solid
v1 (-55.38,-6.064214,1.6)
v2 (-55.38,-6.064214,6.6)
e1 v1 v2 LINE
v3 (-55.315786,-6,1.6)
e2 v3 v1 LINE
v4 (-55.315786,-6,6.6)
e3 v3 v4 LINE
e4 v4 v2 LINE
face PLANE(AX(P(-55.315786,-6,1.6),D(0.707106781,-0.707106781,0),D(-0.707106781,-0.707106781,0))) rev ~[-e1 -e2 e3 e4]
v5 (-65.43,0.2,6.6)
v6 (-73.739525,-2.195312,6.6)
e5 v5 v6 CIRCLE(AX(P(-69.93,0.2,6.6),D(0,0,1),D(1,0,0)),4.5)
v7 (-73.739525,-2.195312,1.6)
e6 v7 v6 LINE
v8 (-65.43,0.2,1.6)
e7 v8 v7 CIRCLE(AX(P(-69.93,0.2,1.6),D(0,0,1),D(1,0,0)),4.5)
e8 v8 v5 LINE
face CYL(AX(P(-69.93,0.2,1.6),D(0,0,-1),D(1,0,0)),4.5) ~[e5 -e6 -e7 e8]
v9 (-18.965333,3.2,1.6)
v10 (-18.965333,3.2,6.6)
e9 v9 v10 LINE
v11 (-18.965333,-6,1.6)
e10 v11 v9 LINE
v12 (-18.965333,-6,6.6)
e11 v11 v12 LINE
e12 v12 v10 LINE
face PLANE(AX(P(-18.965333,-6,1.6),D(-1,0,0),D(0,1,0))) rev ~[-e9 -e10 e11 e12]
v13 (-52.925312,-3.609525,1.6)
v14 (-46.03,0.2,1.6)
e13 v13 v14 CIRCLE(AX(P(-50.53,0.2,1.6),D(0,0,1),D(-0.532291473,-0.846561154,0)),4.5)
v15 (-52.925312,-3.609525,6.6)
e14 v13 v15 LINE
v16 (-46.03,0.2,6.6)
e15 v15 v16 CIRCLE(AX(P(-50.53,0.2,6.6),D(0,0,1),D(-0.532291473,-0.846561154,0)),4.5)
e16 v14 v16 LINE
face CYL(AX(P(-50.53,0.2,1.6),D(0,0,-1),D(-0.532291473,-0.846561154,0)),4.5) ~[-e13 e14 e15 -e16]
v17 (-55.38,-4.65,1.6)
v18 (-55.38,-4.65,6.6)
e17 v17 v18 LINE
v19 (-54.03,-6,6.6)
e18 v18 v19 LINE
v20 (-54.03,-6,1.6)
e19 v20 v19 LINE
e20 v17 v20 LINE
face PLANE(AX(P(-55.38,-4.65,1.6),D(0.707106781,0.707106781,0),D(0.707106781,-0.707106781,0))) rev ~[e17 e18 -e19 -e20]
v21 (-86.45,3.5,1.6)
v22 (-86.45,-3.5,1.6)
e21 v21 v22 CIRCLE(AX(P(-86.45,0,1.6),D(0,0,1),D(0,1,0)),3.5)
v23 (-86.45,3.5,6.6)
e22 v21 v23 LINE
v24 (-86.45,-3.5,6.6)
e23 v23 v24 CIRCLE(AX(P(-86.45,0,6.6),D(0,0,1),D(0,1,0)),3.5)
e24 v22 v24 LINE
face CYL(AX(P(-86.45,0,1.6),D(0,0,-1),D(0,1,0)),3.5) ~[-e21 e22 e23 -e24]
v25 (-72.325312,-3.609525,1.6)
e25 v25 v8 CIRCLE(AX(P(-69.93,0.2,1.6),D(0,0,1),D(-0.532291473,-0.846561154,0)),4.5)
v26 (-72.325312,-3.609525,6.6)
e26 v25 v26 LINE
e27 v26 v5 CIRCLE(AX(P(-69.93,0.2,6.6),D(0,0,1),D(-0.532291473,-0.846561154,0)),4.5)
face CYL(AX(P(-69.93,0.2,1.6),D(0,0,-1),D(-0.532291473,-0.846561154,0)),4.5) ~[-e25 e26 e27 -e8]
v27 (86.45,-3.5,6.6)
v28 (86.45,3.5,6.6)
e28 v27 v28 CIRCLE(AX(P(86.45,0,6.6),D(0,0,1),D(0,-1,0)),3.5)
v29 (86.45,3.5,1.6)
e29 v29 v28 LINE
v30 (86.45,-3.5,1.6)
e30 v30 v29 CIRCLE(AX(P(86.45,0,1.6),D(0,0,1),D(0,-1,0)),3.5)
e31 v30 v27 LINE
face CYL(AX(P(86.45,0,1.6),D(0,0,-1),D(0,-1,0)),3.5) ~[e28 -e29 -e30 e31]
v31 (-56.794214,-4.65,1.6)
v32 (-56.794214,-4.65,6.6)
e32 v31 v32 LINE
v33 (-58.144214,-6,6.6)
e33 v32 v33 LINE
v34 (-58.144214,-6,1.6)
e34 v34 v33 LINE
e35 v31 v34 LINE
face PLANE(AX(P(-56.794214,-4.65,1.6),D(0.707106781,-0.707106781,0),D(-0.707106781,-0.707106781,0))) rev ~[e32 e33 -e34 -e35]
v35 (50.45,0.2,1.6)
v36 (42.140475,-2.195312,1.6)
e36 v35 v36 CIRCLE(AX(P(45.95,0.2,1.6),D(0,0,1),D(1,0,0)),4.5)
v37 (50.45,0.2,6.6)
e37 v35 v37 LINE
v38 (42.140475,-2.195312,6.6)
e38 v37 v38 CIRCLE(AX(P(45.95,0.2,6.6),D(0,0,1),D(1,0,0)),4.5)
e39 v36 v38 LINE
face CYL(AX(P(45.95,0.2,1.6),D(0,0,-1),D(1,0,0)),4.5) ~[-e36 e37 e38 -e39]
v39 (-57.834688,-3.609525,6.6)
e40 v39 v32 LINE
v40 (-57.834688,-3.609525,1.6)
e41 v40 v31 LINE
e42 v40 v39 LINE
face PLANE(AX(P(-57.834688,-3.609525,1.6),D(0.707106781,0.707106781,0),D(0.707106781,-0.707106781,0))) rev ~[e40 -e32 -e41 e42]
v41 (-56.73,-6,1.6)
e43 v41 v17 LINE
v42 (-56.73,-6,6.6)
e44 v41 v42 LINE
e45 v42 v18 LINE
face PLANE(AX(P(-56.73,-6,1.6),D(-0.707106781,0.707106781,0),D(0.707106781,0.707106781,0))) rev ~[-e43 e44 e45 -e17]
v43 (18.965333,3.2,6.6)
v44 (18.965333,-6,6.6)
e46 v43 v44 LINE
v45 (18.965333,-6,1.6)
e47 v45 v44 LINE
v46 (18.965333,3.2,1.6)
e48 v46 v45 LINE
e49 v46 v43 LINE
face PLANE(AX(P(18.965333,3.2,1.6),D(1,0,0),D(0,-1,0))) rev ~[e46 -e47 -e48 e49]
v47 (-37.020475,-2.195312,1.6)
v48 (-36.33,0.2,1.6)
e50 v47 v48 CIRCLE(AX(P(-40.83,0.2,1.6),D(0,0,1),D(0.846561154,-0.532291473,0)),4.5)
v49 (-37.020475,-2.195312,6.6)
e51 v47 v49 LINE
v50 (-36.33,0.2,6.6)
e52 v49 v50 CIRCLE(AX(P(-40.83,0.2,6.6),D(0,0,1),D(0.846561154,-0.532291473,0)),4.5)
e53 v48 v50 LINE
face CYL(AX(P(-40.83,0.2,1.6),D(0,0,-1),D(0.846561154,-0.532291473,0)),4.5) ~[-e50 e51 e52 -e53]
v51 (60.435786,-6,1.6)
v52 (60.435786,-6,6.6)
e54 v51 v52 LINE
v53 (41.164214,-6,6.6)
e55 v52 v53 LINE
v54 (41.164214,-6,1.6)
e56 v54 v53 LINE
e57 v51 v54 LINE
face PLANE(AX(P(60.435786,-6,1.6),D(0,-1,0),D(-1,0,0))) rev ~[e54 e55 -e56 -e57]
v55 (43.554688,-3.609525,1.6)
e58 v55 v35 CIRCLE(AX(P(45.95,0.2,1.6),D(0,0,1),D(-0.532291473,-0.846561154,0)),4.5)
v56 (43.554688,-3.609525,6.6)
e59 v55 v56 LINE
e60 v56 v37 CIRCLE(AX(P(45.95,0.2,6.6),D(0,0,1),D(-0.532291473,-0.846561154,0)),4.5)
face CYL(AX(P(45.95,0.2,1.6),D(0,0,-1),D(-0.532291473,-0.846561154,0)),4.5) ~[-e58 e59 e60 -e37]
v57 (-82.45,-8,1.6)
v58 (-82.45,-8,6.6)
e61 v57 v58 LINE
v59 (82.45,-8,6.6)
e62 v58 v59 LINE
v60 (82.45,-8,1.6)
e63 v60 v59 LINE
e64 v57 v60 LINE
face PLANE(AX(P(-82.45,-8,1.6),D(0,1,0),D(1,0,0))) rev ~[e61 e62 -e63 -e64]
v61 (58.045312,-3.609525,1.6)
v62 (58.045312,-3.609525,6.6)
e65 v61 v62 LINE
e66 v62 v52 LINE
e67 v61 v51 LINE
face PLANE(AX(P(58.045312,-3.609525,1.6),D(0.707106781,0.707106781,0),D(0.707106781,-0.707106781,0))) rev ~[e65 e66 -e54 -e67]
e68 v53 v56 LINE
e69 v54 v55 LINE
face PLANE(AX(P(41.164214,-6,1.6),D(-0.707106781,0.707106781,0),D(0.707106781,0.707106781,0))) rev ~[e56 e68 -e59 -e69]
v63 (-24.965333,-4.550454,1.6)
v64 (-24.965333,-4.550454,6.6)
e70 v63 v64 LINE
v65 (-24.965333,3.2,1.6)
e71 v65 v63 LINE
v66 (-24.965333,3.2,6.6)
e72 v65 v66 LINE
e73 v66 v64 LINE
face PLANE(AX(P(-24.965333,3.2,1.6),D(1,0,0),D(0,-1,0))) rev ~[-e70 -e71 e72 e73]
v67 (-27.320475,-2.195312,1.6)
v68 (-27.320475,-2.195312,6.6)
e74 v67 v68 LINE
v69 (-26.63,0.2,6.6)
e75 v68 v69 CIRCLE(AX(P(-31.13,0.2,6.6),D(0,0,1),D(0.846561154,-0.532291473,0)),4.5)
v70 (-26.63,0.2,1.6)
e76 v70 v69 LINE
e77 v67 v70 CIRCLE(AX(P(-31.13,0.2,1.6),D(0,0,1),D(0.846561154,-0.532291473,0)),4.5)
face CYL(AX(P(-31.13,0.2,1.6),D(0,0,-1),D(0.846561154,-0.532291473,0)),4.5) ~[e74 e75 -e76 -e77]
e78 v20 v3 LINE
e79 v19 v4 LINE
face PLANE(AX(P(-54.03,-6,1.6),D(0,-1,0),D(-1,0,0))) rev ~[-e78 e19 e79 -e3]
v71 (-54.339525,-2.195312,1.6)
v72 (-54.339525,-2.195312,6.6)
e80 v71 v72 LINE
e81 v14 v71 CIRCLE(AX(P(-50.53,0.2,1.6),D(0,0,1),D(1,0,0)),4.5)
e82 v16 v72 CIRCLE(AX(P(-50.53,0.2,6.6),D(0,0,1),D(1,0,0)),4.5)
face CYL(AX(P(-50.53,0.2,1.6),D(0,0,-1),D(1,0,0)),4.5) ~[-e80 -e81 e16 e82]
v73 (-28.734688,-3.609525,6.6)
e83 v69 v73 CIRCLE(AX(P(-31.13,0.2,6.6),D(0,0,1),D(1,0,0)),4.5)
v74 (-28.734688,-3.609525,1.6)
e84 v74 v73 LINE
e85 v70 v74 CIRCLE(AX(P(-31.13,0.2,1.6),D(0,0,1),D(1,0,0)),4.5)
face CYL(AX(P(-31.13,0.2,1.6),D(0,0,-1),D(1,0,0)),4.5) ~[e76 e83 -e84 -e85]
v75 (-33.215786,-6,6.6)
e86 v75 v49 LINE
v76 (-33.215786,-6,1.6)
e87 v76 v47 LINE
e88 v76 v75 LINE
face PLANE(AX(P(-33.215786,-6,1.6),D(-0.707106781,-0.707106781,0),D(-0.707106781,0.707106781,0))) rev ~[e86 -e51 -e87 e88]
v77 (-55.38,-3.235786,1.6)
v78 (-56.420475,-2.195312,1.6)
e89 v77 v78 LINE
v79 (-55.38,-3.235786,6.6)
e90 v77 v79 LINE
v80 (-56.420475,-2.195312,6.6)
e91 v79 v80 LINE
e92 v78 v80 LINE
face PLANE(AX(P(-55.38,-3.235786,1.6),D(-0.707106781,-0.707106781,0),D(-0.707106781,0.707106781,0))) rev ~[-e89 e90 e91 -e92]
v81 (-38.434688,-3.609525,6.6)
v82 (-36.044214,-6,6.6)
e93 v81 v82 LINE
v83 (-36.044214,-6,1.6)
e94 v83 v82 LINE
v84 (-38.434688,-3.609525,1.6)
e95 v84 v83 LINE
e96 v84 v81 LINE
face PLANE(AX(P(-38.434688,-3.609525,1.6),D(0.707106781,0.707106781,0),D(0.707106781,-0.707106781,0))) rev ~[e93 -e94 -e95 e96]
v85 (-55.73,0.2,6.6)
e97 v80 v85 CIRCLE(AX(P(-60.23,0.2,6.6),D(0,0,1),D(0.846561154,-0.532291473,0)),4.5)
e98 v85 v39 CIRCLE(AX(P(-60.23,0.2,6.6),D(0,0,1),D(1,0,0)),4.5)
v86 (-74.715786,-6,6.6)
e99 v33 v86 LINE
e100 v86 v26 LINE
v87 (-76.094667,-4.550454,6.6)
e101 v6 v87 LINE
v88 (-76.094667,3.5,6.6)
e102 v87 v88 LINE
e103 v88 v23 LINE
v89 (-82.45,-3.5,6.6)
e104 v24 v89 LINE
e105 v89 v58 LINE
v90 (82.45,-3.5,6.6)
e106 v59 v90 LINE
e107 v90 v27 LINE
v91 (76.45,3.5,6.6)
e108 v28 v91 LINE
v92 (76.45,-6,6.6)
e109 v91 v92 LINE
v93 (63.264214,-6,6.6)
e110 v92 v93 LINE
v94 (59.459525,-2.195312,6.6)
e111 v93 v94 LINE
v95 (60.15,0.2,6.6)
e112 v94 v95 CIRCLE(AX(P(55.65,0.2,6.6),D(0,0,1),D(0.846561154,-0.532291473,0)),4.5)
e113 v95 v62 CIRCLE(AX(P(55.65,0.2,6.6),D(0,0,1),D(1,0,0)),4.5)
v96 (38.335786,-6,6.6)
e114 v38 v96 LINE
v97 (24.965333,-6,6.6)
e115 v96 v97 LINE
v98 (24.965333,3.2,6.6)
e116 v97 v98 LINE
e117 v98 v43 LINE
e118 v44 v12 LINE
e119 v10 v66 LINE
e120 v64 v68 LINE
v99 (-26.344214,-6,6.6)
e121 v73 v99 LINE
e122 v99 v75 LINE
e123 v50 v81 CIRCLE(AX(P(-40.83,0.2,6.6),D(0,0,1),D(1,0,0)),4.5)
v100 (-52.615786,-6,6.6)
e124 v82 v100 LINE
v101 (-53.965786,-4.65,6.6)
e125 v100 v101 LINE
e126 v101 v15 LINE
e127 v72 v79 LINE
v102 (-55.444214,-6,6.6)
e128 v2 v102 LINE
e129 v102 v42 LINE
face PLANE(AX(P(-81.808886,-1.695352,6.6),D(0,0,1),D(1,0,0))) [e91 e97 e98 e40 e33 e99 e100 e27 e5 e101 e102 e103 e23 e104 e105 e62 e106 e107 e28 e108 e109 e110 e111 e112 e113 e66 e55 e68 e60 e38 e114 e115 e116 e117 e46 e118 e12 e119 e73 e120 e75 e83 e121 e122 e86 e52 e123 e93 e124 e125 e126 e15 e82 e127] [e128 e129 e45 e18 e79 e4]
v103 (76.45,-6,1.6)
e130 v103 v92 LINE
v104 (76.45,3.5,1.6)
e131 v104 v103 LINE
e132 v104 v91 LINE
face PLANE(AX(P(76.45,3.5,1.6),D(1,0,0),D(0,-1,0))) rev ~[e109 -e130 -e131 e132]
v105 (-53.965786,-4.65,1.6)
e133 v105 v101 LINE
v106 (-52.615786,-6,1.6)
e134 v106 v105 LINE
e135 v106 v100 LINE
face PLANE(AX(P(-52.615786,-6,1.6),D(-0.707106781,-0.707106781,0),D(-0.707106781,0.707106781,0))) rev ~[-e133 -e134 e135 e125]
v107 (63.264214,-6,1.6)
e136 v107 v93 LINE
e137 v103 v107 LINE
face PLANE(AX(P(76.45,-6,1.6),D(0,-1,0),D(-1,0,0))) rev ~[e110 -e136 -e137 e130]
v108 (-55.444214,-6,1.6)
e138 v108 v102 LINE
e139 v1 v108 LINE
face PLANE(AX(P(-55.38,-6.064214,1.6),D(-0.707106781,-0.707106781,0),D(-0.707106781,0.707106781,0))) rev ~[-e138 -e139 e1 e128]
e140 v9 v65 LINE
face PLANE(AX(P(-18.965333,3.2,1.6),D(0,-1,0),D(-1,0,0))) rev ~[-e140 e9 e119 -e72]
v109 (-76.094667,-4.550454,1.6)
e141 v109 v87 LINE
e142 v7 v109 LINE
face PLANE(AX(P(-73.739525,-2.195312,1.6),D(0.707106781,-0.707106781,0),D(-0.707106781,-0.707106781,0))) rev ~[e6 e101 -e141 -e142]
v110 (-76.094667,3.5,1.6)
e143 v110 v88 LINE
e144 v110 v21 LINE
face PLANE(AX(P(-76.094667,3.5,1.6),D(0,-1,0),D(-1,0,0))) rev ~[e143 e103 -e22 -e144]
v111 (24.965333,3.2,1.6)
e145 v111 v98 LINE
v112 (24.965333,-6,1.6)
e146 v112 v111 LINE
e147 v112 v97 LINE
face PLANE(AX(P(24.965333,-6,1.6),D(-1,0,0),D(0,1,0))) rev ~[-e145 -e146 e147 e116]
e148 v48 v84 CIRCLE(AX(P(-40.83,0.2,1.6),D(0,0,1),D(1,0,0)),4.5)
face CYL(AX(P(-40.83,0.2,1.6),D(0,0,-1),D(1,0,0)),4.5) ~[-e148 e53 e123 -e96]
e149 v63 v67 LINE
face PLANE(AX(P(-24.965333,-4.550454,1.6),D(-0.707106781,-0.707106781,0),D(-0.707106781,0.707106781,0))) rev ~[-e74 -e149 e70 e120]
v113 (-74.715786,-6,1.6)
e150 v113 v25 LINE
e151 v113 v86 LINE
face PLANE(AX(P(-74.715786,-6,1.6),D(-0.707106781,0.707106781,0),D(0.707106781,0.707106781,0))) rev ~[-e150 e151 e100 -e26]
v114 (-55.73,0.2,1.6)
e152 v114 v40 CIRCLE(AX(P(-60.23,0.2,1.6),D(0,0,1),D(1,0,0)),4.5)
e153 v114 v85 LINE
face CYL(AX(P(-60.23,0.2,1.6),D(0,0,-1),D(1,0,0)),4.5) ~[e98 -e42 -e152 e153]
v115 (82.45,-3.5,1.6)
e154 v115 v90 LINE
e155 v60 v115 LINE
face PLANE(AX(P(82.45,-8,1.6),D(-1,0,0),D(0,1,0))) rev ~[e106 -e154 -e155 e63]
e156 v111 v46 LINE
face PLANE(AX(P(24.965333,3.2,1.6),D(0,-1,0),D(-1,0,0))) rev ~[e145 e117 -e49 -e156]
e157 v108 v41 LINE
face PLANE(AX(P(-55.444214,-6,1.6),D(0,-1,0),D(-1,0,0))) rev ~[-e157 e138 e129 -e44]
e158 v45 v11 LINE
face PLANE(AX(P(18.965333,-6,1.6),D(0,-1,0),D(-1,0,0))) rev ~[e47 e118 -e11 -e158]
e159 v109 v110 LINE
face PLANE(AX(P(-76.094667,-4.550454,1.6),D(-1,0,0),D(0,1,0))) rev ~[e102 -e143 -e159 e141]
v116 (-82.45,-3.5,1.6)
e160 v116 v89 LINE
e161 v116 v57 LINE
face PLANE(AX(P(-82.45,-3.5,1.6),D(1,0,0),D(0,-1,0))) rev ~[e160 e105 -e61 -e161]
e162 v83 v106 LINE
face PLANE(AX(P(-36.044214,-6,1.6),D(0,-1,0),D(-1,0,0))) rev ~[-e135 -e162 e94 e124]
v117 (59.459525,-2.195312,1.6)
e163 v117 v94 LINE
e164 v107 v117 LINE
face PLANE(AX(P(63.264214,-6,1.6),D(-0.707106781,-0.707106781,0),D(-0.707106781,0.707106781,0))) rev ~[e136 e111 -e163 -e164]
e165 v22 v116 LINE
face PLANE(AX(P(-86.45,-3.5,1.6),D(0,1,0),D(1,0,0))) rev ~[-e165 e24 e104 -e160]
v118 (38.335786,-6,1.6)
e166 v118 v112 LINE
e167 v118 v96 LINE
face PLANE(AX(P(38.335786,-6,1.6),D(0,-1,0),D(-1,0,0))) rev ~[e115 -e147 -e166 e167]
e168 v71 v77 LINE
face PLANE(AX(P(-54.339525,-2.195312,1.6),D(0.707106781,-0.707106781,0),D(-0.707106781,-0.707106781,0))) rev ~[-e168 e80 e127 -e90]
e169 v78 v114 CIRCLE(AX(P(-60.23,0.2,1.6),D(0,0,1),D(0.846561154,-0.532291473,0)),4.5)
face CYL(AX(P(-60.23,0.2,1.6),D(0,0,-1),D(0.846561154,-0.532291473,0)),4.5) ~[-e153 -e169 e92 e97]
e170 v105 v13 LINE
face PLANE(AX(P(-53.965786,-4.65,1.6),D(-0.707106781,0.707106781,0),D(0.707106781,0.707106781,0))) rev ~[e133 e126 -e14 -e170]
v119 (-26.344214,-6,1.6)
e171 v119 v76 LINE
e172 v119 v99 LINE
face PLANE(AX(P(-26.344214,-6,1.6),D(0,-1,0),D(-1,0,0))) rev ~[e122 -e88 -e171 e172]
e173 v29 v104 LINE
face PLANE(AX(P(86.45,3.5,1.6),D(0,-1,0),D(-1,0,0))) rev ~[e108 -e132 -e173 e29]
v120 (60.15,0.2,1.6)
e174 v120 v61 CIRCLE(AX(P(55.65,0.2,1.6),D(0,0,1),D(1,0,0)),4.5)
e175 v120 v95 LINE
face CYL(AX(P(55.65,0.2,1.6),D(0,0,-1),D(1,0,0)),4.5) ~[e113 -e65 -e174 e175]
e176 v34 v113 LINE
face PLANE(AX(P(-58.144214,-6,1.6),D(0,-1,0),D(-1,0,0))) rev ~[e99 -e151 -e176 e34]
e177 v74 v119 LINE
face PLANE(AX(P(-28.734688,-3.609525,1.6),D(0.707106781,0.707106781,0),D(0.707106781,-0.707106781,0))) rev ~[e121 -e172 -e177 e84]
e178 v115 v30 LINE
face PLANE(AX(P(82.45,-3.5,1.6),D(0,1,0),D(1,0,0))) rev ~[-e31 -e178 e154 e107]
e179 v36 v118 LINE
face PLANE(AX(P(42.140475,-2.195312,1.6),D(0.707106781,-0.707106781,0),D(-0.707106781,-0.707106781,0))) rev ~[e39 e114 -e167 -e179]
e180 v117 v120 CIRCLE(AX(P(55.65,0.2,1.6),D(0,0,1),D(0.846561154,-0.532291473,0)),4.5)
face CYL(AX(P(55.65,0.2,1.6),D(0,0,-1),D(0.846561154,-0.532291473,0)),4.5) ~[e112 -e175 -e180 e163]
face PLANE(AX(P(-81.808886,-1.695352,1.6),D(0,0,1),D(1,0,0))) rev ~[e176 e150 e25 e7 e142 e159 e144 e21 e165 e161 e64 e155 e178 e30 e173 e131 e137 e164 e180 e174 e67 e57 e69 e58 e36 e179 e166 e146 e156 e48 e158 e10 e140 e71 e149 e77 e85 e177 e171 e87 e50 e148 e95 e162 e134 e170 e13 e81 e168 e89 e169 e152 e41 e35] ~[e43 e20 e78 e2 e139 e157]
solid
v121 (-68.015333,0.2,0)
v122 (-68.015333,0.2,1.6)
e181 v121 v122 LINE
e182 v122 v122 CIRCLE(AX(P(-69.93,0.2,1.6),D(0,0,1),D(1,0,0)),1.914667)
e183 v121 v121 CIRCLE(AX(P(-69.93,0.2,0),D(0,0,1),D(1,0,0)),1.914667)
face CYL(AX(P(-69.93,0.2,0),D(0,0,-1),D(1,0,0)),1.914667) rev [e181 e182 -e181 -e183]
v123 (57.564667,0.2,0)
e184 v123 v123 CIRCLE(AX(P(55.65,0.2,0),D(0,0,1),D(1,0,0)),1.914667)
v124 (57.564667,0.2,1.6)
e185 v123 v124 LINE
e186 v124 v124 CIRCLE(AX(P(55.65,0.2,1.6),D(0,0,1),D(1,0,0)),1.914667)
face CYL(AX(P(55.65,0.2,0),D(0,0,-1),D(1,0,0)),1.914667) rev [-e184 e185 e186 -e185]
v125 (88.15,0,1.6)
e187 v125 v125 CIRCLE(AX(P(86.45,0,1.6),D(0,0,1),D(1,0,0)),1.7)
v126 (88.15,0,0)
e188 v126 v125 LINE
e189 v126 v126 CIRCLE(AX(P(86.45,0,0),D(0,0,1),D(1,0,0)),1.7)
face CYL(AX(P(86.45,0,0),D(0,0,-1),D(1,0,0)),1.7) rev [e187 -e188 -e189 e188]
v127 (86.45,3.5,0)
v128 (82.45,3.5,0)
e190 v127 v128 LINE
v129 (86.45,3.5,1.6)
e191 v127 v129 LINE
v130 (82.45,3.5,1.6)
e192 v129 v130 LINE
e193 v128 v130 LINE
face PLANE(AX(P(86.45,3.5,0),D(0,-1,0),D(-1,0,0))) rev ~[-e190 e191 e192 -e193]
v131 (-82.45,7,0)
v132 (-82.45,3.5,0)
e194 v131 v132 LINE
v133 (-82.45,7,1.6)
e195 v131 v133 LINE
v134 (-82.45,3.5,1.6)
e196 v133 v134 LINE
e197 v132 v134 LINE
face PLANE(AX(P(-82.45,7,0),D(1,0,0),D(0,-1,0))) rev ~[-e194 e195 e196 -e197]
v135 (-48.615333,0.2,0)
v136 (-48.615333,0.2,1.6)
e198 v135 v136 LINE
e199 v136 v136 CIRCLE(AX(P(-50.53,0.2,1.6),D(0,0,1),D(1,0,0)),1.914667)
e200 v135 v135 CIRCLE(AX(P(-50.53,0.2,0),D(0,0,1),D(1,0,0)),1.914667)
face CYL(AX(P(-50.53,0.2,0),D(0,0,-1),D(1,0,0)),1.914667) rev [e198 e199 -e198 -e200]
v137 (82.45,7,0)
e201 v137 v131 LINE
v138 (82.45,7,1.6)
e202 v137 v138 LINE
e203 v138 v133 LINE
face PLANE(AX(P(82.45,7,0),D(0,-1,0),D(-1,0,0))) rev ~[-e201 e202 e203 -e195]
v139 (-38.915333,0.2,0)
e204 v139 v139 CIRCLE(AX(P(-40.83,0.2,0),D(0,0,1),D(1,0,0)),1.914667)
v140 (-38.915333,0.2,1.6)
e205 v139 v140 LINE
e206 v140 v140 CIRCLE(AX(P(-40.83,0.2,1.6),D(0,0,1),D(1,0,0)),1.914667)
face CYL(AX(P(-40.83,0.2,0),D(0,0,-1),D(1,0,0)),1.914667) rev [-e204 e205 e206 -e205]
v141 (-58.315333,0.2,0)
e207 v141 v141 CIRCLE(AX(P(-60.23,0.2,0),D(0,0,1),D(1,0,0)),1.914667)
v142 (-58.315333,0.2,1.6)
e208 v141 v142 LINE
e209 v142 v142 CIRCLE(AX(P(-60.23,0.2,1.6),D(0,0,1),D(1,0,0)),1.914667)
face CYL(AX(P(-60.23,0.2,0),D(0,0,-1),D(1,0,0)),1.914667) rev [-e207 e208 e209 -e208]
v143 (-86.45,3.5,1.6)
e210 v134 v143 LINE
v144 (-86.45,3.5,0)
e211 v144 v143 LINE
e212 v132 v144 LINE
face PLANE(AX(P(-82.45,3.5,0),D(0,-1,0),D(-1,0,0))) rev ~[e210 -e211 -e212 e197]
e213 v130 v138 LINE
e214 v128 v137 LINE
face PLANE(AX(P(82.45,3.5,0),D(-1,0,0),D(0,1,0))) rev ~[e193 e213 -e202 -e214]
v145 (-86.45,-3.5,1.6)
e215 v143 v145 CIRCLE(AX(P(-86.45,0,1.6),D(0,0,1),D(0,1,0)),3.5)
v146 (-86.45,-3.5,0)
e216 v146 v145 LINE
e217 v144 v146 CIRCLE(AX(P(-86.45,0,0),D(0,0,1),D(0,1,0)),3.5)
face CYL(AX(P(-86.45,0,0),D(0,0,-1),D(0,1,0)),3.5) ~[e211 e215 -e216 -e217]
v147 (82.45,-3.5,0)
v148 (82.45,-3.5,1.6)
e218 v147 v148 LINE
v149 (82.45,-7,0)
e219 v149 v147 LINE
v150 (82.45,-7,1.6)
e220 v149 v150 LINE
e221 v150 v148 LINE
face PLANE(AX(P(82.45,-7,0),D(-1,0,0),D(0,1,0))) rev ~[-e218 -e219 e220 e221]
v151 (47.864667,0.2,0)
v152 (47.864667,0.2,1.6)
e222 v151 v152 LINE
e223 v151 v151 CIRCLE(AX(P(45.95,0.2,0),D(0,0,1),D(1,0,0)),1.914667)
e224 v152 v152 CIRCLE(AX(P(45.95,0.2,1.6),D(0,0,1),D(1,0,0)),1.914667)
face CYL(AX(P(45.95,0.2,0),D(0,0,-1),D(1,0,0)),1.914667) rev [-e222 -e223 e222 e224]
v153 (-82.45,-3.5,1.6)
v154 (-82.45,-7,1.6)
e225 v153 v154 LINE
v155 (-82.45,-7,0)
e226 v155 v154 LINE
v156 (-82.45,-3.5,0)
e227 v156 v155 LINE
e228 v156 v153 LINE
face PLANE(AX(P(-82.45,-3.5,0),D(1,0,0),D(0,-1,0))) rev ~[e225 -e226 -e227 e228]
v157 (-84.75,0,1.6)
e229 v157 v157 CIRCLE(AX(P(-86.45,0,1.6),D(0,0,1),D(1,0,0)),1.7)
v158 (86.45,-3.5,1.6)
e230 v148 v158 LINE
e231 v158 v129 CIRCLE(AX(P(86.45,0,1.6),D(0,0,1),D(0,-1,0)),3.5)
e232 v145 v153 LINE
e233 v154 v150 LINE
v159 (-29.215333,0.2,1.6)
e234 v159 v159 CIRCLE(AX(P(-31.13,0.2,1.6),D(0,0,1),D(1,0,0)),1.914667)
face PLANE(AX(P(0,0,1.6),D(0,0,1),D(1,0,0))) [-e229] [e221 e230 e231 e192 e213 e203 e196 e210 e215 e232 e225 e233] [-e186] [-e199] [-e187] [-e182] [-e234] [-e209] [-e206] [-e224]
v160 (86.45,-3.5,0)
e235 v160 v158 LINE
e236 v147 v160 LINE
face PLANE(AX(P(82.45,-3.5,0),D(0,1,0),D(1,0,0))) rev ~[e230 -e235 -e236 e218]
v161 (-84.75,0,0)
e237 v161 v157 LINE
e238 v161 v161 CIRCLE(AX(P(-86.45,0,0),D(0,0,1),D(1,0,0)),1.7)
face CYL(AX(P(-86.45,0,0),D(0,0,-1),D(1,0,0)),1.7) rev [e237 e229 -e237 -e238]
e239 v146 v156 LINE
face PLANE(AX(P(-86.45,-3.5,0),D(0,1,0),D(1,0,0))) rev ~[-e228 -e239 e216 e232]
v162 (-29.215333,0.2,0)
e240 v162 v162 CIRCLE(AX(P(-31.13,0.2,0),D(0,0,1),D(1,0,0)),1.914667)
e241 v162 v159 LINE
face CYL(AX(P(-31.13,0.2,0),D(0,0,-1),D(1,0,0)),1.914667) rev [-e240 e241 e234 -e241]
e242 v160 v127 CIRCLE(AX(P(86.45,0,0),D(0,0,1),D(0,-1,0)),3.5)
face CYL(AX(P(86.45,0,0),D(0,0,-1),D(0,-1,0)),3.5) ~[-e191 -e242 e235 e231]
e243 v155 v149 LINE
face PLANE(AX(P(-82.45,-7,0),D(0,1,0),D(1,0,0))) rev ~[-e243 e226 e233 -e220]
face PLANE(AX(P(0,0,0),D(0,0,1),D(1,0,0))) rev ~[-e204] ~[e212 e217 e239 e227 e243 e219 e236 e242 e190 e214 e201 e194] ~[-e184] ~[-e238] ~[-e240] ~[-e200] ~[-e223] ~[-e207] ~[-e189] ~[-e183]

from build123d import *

# Parameters (mm, degrees)
F0_R     = 1.7
F0_R_2   = 1.914667213
F1_DEPTH = 1.6
F3_DEPTH = 5


with BuildPart() as f1:
    # F0 (on Top) → F1 (new body)
    with BuildSketch(Plane.XY):
        with BuildLine():
            Line((-82.45, -7), (0, -7))
            Line((0, -7), (82.45, -7))
            Line((82.45, -7), (82.45, -3.5))
            Line((82.45, -3.5), (86.45, -3.5))
            ThreePointArc((86.45, -3.5), (89.95, 0), (86.45, 3.5))
            Line((86.45, 3.5), (82.45, 3.5))
            Line((82.45, 3.5), (82.45, 7))
            Line((82.45, 7), (0, 7))
            Line((0, 7), (-82.45, 7))
            Line((-82.45, 7), (-82.45, 3.5))
            Line((-82.45, 3.5), (-86.45, 3.5))
            ThreePointArc((-86.45, 3.5), (-89.95, 0), (-86.45, -3.5))
            Line((-86.45, -3.5), (-82.45, -3.5))
            Line((-82.45, -3.5), (-82.45, -7))
        make_face()
        with Locations((-86.45, 0)):
            Circle(F0_R, mode=Mode.SUBTRACT)
        with Locations((-69.93, 0.2)):
            Circle(F0_R_2, mode=Mode.SUBTRACT)
        with Locations((-60.23, 0.2)):
            Circle(F0_R_2, mode=Mode.SUBTRACT)
        with Locations((-50.53, 0.2)):
            Circle(F0_R_2, mode=Mode.SUBTRACT)
        with Locations((-40.83, 0.2)):
            Circle(F0_R_2, mode=Mode.SUBTRACT)
        with Locations((-31.13, 0.2)):
            Circle(F0_R_2, mode=Mode.SUBTRACT)
        with Locations((45.95, 0.2)):
            Circle(F0_R_2, mode=Mode.SUBTRACT)
        with Locations((55.65, 0.2)):
            Circle(F0_R_2, mode=Mode.SUBTRACT)
        with Locations((86.45, 0)):
            Circle(F0_R, mode=Mode.SUBTRACT)
    extrude(amount=F1_DEPTH)


with BuildPart() as f3:
    # F2 (on face) → F3 (new body)
    with BuildSketch(Plane.XY.offset(1.6)):
        with BuildLine():
            Line((-76.094667213, 3.5), (-82.45, 3.5))
            Line((-82.45, 3.5), (-86.45, 3.5))
            ThreePointArc((-86.45, 3.5), (-89.95, 0), (-86.45, -3.5))
            Line((-86.45, -3.5), (-82.45, -3.5))
            Line((-82.45, -3.5), (-82.45, -7))
            Line((-82.45, -7), (-82.45, -8))
            Line((-82.45, -8), (-77.13, -8))
            ThreePointArc((-77.13, -8), (-78.0538795325, -7.3826834324), (-77.8371067812, -6.2928932188))
            Line((-77.8371067812, -6.2928932188), (-76.094667213, -4.5504536506))
            Line((-76.094667213, -4.5504536506), (-76.094667213, 3.5))
        make_face()
        with BuildLine():
            Line((-73.7395251927, -2.1953116303), (-76.094667213, -4.5504536506))
            Line((-76.094667213, -4.5504536506), (-76.094667213, -5.964667213))
            Line((-76.094667213, -5.964667213), (-73.1119805153, -2.9819805153))
            ThreePointArc((-73.1119805153, -2.9819805153), (-73.4478118199, -2.6062430401), (-73.7395251927, -2.1953116303))
        make_face()
        with BuildLine():
            Line((-76.094667213, -5.964667213), (-76.094667213, -4.5504536506))
            Line((-76.094667213, -4.5504536506), (-77.8371067812, -6.2928932188))
            ThreePointArc((-77.8371067812, -6.2928932188), (-78.0538795325, -7.3826834324), (-77.13, -8))
            ThreePointArc((-77.13, -8), (-76.7473165676, -7.9238795325), (-76.4228932188, -7.7071067812))
            Line((-76.4228932188, -7.7071067812), (-74.7157864376, -6))
            Line((-74.7157864376, -6), (-76.094667213, -6))
            Line((-76.094667213, -6), (-76.094667213, -5.964667213))
        make_face()
        with BuildLine():
            Line((-73.1119805153, -2.9819805153), (-76.094667213, -5.964667213))
            Line((-76.094667213, -5.964667213), (-76.094667213, -6))
            Line((-76.094667213, -6), (-74.7157864376, -6))
            Line((-74.7157864376, -6), (-72.3253116303, -3.6095251927))
            ThreePointArc((-72.3253116303, -3.6095251927), (-72.7362430401, -3.3178118199), (-73.1119805153, -2.9819805153))
        make_face()
        with BuildLine():
            ThreePointArc((-65.43, 0.2), (-71.1764222063, 4.5239370582), (-73.7395251927, -2.1953116303))
            Line((-73.7395251927, -2.1953116303), (-70.6371067812, 0.9071067812))
            ThreePointArc((-70.6371067812, 0.9071067812), (-69.2228932188, 0.9071067812), (-69.2228932188, -0.5071067812))
            Line((-69.2228932188, -0.5071067812), (-72.3253116303, -3.6095251927))
            ThreePointArc((-72.3253116303, -3.6095251927), (-67.753868379, -3.7388388096), (-65.43, 0.2))
        make_face()
        with BuildLine():
            Line((-70.6371067812, 0.9071067812), (-73.7395251927, -2.1953116303))
            ThreePointArc((-73.7395251927, -2.1953116303), (-73.4478118199, -2.6062430401), (-73.1119805153, -2.9819805153))
            ThreePointArc((-73.1119805153, -2.9819805153), (-72.7362430401, -3.3178118199), (-72.3253116303, -3.6095251927))
            Line((-72.3253116303, -3.6095251927), (-69.2228932188, -0.5071067812))
            ThreePointArc((-69.2228932188, -0.5071067812), (-69.2228932188, 0.9071067812), (-70.6371067812, 0.9071067812))
        make_face()
        with BuildLine():
            ThreePointArc((-76.4228932188, -7.7071067812), (-76.7473165676, -7.9238795325), (-77.13, -8))
            Line((-77.13, -8), (-57.73, -8))
            ThreePointArc((-57.73, -8), (-58.6538795325, -7.3826834324), (-58.4371067812, -6.2928932188))
            Line((-58.4371067812, -6.2928932188), (-58.1442135624, -6))
            Line((-58.1442135624, -6), (-74.7157864376, -6))
            Line((-74.7157864376, -6), (-76.4228932188, -7.7071067812))
        make_face()
        with BuildLine():
            ThreePointArc((-57.0228932188, -7.7071067812), (-57.3473165676, -7.9238795325), (-57.73, -8))
            Line((-57.73, -8), (-53.03, -8))
            ThreePointArc((-53.03, -8), (-53.4126834324, -7.9238795325), (-53.7371067812, -7.7071067812))
            Line((-53.7371067812, -7.7071067812), (-55.38, -6.0642135624))
            Line((-55.38, -6.0642135624), (-57.0228932188, -7.7071067812))
        make_face()
        with BuildLine():
            ThreePointArc((-58.4371067812, -6.2928932188), (-58.6538795325, -7.3826834324), (-57.73, -8))
            ThreePointArc((-57.73, -8), (-57.3473165676, -7.9238795325), (-57.0228932188, -7.7071067812))
            Line((-57.0228932188, -7.7071067812), (-55.38, -6.0642135624))
            Line((-55.38, -6.0642135624), (-55.4442135624, -6))
            Line((-55.4442135624, -6), (-56.73, -6))
            Line((-56.73, -6), (-58.1442135624, -6))
            Line((-58.1442135624, -6), (-58.4371067812, -6.2928932188))
        make_face()
        Polygon((-56.7942135624, -4.65), (-58.1442135624, -6), (-56.73, -6), (-56.0871067812, -5.3571067812), align=None)
        with BuildLine():
            ThreePointArc((-52.3228932188, -6.2928932188), (-52.1061204675, -7.3826834324), (-53.03, -8))
            Line((-53.03, -8), (-33.63, -8))
            ThreePointArc((-33.63, -8), (-34.0126834324, -7.9238795325), (-34.3371067812, -7.7071067812))
            Line((-34.3371067812, -7.7071067812), (-36.0442135624, -6))
            Line((-36.0442135624, -6), (-52.6157864376, -6))
            Line((-52.6157864376, -6), (-52.3228932188, -6.2928932188))
        make_face()
        with BuildLine():
            ThreePointArc((-53.7371067812, -7.7071067812), (-53.4126834324, -7.9238795325), (-53.03, -8))
            ThreePointArc((-53.03, -8), (-52.1061204675, -7.3826834324), (-52.3228932188, -6.2928932188))
            Line((-52.3228932188, -6.2928932188), (-52.6157864376, -6))
            Line((-52.6157864376, -6), (-54.03, -6))
            Line((-54.03, -6), (-55.3157864376, -6))
            Line((-55.3157864376, -6), (-55.38, -6.0642135624))
            Line((-55.38, -6.0642135624), (-53.7371067812, -7.7071067812))
        make_face()
        Polygon((-56.0871067812, -3.9428932188), (-56.7942135624, -4.65), (-56.0871067812, -5.3571067812), (-55.38, -4.65), align=None)
        with BuildLine():
            Line((-57.8346883697, -3.6095251927), (-56.7942135624, -4.65))
            Line((-56.7942135624, -4.65), (-56.0871067812, -3.9428932188))
            Line((-56.0871067812, -3.9428932188), (-57.0480194847, -2.9819805153))
            ThreePointArc((-57.0480194847, -2.9819805153), (-57.4237569599, -3.3178118199), (-57.8346883697, -3.6095251927))
        make_face()
        with BuildLine():
            ThreePointArc((-32.9228932188, -6.2928932188), (-32.7061204675, -7.3826834324), (-33.63, -8))
            Line((-33.63, -8), (-23.9299999506, -8))
            ThreePointArc((-23.9299999506, -8), (-24.3126834095, -7.923879542), (-24.6371067812, -7.7071067812))
            Line((-24.6371067812, -7.7071067812), (-26.3442135624, -6))
            Line((-26.3442135624, -6), (-33.2157864376, -6))
            Line((-33.2157864376, -6), (-32.9228932188, -6.2928932188))
        make_face()
        with BuildLine():
            ThreePointArc((-34.3371067812, -7.7071067812), (-34.0126834324, -7.9238795325), (-33.63, -8))
            ThreePointArc((-33.63, -8), (-32.7061204675, -7.3826834324), (-32.9228932188, -6.2928932188))
            Line((-32.9228932188, -6.2928932188), (-33.2157864376, -6))
            Line((-33.2157864376, -6), (-34.63, -6))
            Line((-34.63, -6), (-36.0442135624, -6))
            Line((-36.0442135624, -6), (-34.3371067812, -7.7071067812))
        make_face()
        with BuildLine():
            ThreePointArc((-55.73, 0.2), (-64.1688388096, 2.376131621), (-57.8346883697, -3.6095251927))
            Line((-57.8346883697, -3.6095251927), (-60.9371067812, -0.5071067812))
            ThreePointArc((-60.9371067812, -0.5071067812), (-60.9371067812, 0.9071067812), (-59.5228932188, 0.9071067812))
            Line((-59.5228932188, 0.9071067812), (-56.4204748073, -2.1953116303))
            ThreePointArc((-56.4204748073, -2.1953116303), (-55.9060629418, -1.0464222063), (-55.73, 0.2))
        make_face()
        with BuildLine():
            Line((-60.9371067812, -0.5071067812), (-57.8346883697, -3.6095251927))
            ThreePointArc((-57.8346883697, -3.6095251927), (-57.4237569599, -3.3178118199), (-57.0480194847, -2.9819805153))
            ThreePointArc((-57.0480194847, -2.9819805153), (-56.7121881801, -2.6062430401), (-56.4204748073, -2.1953116303))
            Line((-56.4204748073, -2.1953116303), (-59.5228932188, 0.9071067812))
            ThreePointArc((-59.5228932188, 0.9071067812), (-60.9371067812, 0.9071067812), (-60.9371067812, -0.5071067812))
        make_face()
        Polygon((-55.38, -3.2357864376), (-56.0871067812, -3.9428932188), (-55.38, -4.65), (-54.6728932188, -3.9428932188), align=None)
        with BuildLine():
            Line((-57.0480194847, -2.9819805153), (-56.0871067812, -3.9428932188))
            Line((-56.0871067812, -3.9428932188), (-55.38, -3.2357864376))
            Line((-55.38, -3.2357864376), (-56.4204748073, -2.1953116303))
            ThreePointArc((-56.4204748073, -2.1953116303), (-56.7121881801, -2.6062430401), (-57.0480194847, -2.9819805153))
        make_face()
        with BuildLine():
            ThreePointArc((-23.2228932188, -6.2928932188), (-23.006120458, -7.3826834095), (-23.9299999506, -8))
            Line((-23.9299999506, -8), (38.75, -8))
            ThreePointArc((38.75, -8), (37.8261204675, -7.3826834324), (38.0428932188, -6.2928932188))
            Line((38.0428932188, -6.2928932188), (38.3357864376, -6))
            Line((38.3357864376, -6), (24.965332787, -6))
            Line((24.965332787, -6), (24.965332787, 3.2))
            Line((24.965332787, 3.2), (18.965332787, 3.2))
            Line((18.965332787, 3.2), (18.965332787, -6))
            Line((18.965332787, -6), (-18.965332787, -6))
            Line((-18.965332787, -6), (-18.965332787, 3.2))
            Line((-18.965332787, 3.2), (-24.965332787, 3.2))
            Line((-24.965332787, 3.2), (-24.965332787, -4.5504536506))
            Line((-24.965332787, -4.5504536506), (-23.2228932188, -6.2928932188))
        make_face()
        with BuildLine():
            ThreePointArc((-24.6371067812, -7.7071067812), (-24.3126834095, -7.923879542), (-23.9299999506, -8))
            ThreePointArc((-23.9299999506, -8), (-23.006120458, -7.3826834095), (-23.2228932188, -6.2928932188))
            Line((-23.2228932188, -6.2928932188), (-24.965332787, -4.5504536506))
            Line((-24.965332787, -4.5504536506), (-24.965332787, -5.964667213))
            Line((-24.965332787, -5.964667213), (-24.965332787, -6))
            Line((-24.965332787, -6), (-26.3442135624, -6))
            Line((-26.3442135624, -6), (-24.6371067812, -7.7071067812))
        make_face()
        Polygon((-54.03, -6), (-52.6157864376, -6), (-53.9657864376, -4.65), (-54.6728932188, -5.3571067812), align=None)
        Polygon((-54.6728932188, -3.9428932188), (-55.38, -4.65), (-54.6728932188, -5.3571067812), (-53.9657864376, -4.65), align=None)
        with BuildLine():
            Line((-54.3395251927, -2.1953116303), (-55.38, -3.2357864376))
            Line((-55.38, -3.2357864376), (-54.6728932188, -3.9428932188))
            Line((-54.6728932188, -3.9428932188), (-53.7119805153, -2.9819805153))
            ThreePointArc((-53.7119805153, -2.9819805153), (-54.0478118199, -2.6062430401), (-54.3395251927, -2.1953116303))
        make_face()
        with BuildLine():
            ThreePointArc((39.4571067812, -7.7071067812), (39.1326834324, -7.9238795325), (38.75, -8))
            Line((38.75, -8), (62.85, -8))
            ThreePointArc((62.85, -8), (62.4673165676, -7.9238795325), (62.1428932188, -7.7071067812))
            Line((62.1428932188, -7.7071067812), (60.4357864376, -6))
            Line((60.4357864376, -6), (41.1642135624, -6))
            Line((41.1642135624, -6), (39.4571067812, -7.7071067812))
        make_face()
        with BuildLine():
            ThreePointArc((38.0428932188, -6.2928932188), (37.8261204675, -7.3826834324), (38.75, -8))
            ThreePointArc((38.75, -8), (39.1326834324, -7.9238795325), (39.4571067812, -7.7071067812))
            Line((39.4571067812, -7.7071067812), (41.1642135624, -6))
            Line((41.1642135624, -6), (39.75, -6))
            Line((39.75, -6), (38.3357864376, -6))
            Line((38.3357864376, -6), (38.0428932188, -6.2928932188))
        make_face()
        with BuildLine():
            Line((-34.63, -6), (-33.2157864376, -6))
            Line((-33.2157864376, -6), (-37.0204748073, -2.1953116303))
            ThreePointArc((-37.0204748073, -2.1953116303), (-37.3121881801, -2.6062430401), (-37.6480194847, -2.9819805153))
            Line((-37.6480194847, -2.9819805153), (-34.63, -6))
        make_face()
        with BuildLine():
            Line((-38.4346883697, -3.6095251927), (-36.0442135624, -6))
            Line((-36.0442135624, -6), (-34.63, -6))
            Line((-34.63, -6), (-37.6480194847, -2.9819805153))
            ThreePointArc((-37.6480194847, -2.9819805153), (-38.0237569599, -3.3178118199), (-38.4346883697, -3.6095251927))
        make_face()
        with BuildLine():
            Line((-54.6728932188, -3.9428932188), (-53.9657864376, -4.65))
            Line((-53.9657864376, -4.65), (-52.9253116303, -3.6095251927))
            ThreePointArc((-52.9253116303, -3.6095251927), (-53.3362430401, -3.3178118199), (-53.7119805153, -2.9819805153))
            Line((-53.7119805153, -2.9819805153), (-54.6728932188, -3.9428932188))
        make_face()
        with BuildLine():
            ThreePointArc((-46.03, 0.2), (-51.7764222063, 4.5239370582), (-54.3395251927, -2.1953116303))
            Line((-54.3395251927, -2.1953116303), (-51.2371067812, 0.9071067812))
            ThreePointArc((-51.2371067812, 0.9071067812), (-49.8228932188, 0.9071067812), (-49.8228932188, -0.5071067812))
            Line((-49.8228932188, -0.5071067812), (-52.9253116303, -3.6095251927))
            ThreePointArc((-52.9253116303, -3.6095251927), (-48.353868379, -3.7388388096), (-46.03, 0.2))
        make_face()
        with BuildLine():
            Line((-51.2371067812, 0.9071067812), (-54.3395251927, -2.1953116303))
            ThreePointArc((-54.3395251927, -2.1953116303), (-54.0478118199, -2.6062430401), (-53.7119805153, -2.9819805153))
            ThreePointArc((-53.7119805153, -2.9819805153), (-53.3362430401, -3.3178118199), (-52.9253116303, -3.6095251927))
            Line((-52.9253116303, -3.6095251927), (-49.8228932188, -0.5071067812))
            ThreePointArc((-49.8228932188, -0.5071067812), (-49.8228932188, 0.9071067812), (-51.2371067812, 0.9071067812))
        make_face()
        with BuildLine():
            ThreePointArc((63.5571067812, -6.2928932188), (63.7738795325, -7.3826834324), (62.85, -8))
            Line((62.85, -8), (82.45, -8))
            Line((82.45, -8), (82.45, -3.5))
            Line((82.45, -3.5), (86.45, -3.5))
            ThreePointArc((86.45, -3.5), (89.95, 0), (86.45, 3.5))
            Line((86.45, 3.5), (82.45, 3.5))
            Line((82.45, 3.5), (76.45, 3.5))
            Line((76.45, 3.5), (76.45, -6))
            Line((76.45, -6), (63.2642135624, -6))
            Line((63.2642135624, -6), (63.5571067812, -6.2928932188))
        make_face()
        with BuildLine():
            ThreePointArc((62.1428932188, -7.7071067812), (62.4673165676, -7.9238795325), (62.85, -8))
            ThreePointArc((62.85, -8), (63.7738795325, -7.3826834324), (63.5571067812, -6.2928932188))
            Line((63.5571067812, -6.2928932188), (63.2642135624, -6))
            Line((63.2642135624, -6), (61.85, -6))
            Line((61.85, -6), (60.4357864376, -6))
            Line((60.4357864376, -6), (62.1428932188, -7.7071067812))
        make_face()
        with BuildLine():
            Line((-24.965332787, -5.964667213), (-24.965332787, -4.5504536506))
            Line((-24.965332787, -4.5504536506), (-27.3204748073, -2.1953116303))
            ThreePointArc((-27.3204748073, -2.1953116303), (-27.6121881801, -2.6062430401), (-27.9480194847, -2.9819805153))
            Line((-27.9480194847, -2.9819805153), (-24.965332787, -5.964667213))
        make_face()
        with BuildLine():
            Line((-28.7346883697, -3.6095251927), (-26.3442135624, -6))
            Line((-26.3442135624, -6), (-24.965332787, -6))
            Line((-24.965332787, -6), (-24.965332787, -5.964667213))
            Line((-24.965332787, -5.964667213), (-27.9480194847, -2.9819805153))
            ThreePointArc((-27.9480194847, -2.9819805153), (-28.3237569599, -3.3178118199), (-28.7346883697, -3.6095251927))
        make_face()
        with BuildLine():
            ThreePointArc((-37.6480194847, -2.9819805153), (-37.3121881801, -2.6062430401), (-37.0204748073, -2.1953116303))
            Line((-37.0204748073, -2.1953116303), (-40.1228932188, 0.9071067812))
            ThreePointArc((-40.1228932188, 0.9071067812), (-41.5371067812, 0.9071067812), (-41.5371067812, -0.5071067812))
            Line((-41.5371067812, -0.5071067812), (-38.4346883697, -3.6095251927))
            ThreePointArc((-38.4346883697, -3.6095251927), (-38.0237569599, -3.3178118199), (-37.6480194847, -2.9819805153))
        make_face()
        with BuildLine():
            Line((-40.1228932188, 0.9071067812), (-37.0204748073, -2.1953116303))
            ThreePointArc((-37.0204748073, -2.1953116303), (-36.5060629418, -1.0464222063), (-36.33, 0.2))
            ThreePointArc((-36.33, 0.2), (-44.7688388096, 2.376131621), (-38.4346883697, -3.6095251927))
            Line((-38.4346883697, -3.6095251927), (-41.5371067812, -0.5071067812))
            ThreePointArc((-41.5371067812, -0.5071067812), (-41.5371067812, 0.9071067812), (-40.1228932188, 0.9071067812))
        make_face()
        with BuildLine():
            Line((39.75, -6), (41.1642135624, -6))
            Line((41.1642135624, -6), (43.5546883697, -3.6095251927))
            ThreePointArc((43.5546883697, -3.6095251927), (43.1437569599, -3.3178118199), (42.7680194847, -2.9819805153))
            Line((42.7680194847, -2.9819805153), (39.75, -6))
        make_face()
        with BuildLine():
            Line((42.1404748073, -2.1953116303), (38.3357864376, -6))
            Line((38.3357864376, -6), (39.75, -6))
            Line((39.75, -6), (42.7680194847, -2.9819805153))
            ThreePointArc((42.7680194847, -2.9819805153), (42.4321881801, -2.6062430401), (42.1404748073, -2.1953116303))
        make_face()
        with BuildLine():
            ThreePointArc((-27.9480194847, -2.9819805153), (-27.6121881801, -2.6062430401), (-27.3204748073, -2.1953116303))
            Line((-27.3204748073, -2.1953116303), (-30.4228932188, 0.9071067812))
            ThreePointArc((-30.4228932188, 0.9071067812), (-31.8371067812, 0.9071067812), (-31.8371067812, -0.5071067812))
            Line((-31.8371067812, -0.5071067812), (-28.7346883697, -3.6095251927))
            ThreePointArc((-28.7346883697, -3.6095251927), (-28.3237569599, -3.3178118199), (-27.9480194847, -2.9819805153))
        make_face()
        with BuildLine():
            Line((-30.4228932188, 0.9071067812), (-27.3204748073, -2.1953116303))
            ThreePointArc((-27.3204748073, -2.1953116303), (-26.8060629418, -1.0464222063), (-26.63, 0.2))
            ThreePointArc((-26.63, 0.2), (-35.0688388096, 2.376131621), (-28.7346883697, -3.6095251927))
            Line((-28.7346883697, -3.6095251927), (-31.8371067812, -0.5071067812))
            ThreePointArc((-31.8371067812, -0.5071067812), (-31.8371067812, 0.9071067812), (-30.4228932188, 0.9071067812))
        make_face()
        with BuildLine():
            Line((61.85, -6), (63.2642135624, -6))
            Line((63.2642135624, -6), (59.4595251927, -2.1953116303))
            ThreePointArc((59.4595251927, -2.1953116303), (59.1678118199, -2.6062430401), (58.8319805153, -2.9819805153))
            Line((58.8319805153, -2.9819805153), (61.85, -6))
        make_face()
        with BuildLine():
            Line((58.0453116303, -3.6095251927), (60.4357864376, -6))
            Line((60.4357864376, -6), (61.85, -6))
            Line((61.85, -6), (58.8319805153, -2.9819805153))
            ThreePointArc((58.8319805153, -2.9819805153), (58.4562430401, -3.3178118199), (58.0453116303, -3.6095251927))
        make_face()
        with BuildLine():
            ThreePointArc((42.7680194847, -2.9819805153), (43.1437569599, -3.3178118199), (43.5546883697, -3.6095251927))
            Line((43.5546883697, -3.6095251927), (46.6571067812, -0.5071067812))
            ThreePointArc((46.6571067812, -0.5071067812), (46.6571067812, 0.9071067812), (45.2428932188, 0.9071067812))
            Line((45.2428932188, 0.9071067812), (42.1404748073, -2.1953116303))
            ThreePointArc((42.1404748073, -2.1953116303), (42.4321881801, -2.6062430401), (42.7680194847, -2.9819805153))
        make_face()
        with BuildLine():
            Line((46.6571067812, -0.5071067812), (43.5546883697, -3.6095251927))
            ThreePointArc((43.5546883697, -3.6095251927), (48.126131621, -3.7388388096), (50.45, 0.2))
            ThreePointArc((50.45, 0.2), (44.7035777937, 4.5239370582), (42.1404748073, -2.1953116303))
            Line((42.1404748073, -2.1953116303), (45.2428932188, 0.9071067812))
            ThreePointArc((45.2428932188, 0.9071067812), (46.6571067812, 0.9071067812), (46.6571067812, -0.5071067812))
        make_face()
        with BuildLine():
            ThreePointArc((58.8319805153, -2.9819805153), (59.1678118199, -2.6062430401), (59.4595251927, -2.1953116303))
            Line((59.4595251927, -2.1953116303), (56.3571067812, 0.9071067812))
            ThreePointArc((56.3571067812, 0.9071067812), (54.9428932188, 0.9071067812), (54.9428932188, -0.5071067812))
            Line((54.9428932188, -0.5071067812), (58.0453116303, -3.6095251927))
            ThreePointArc((58.0453116303, -3.6095251927), (58.4562430401, -3.3178118199), (58.8319805153, -2.9819805153))
        make_face()
        with BuildLine():
            Line((56.3571067812, 0.9071067812), (59.4595251927, -2.1953116303))
            ThreePointArc((59.4595251927, -2.1953116303), (59.9739370582, -1.0464222063), (60.15, 0.2))
            ThreePointArc((60.15, 0.2), (51.7111611904, 2.376131621), (58.0453116303, -3.6095251927))
            Line((58.0453116303, -3.6095251927), (54.9428932188, -0.5071067812))
            ThreePointArc((54.9428932188, -0.5071067812), (54.9428932188, 0.9071067812), (56.3571067812, 0.9071067812))
        make_face()
    extrude(amount=F3_DEPTH)


solid = Compound([f1.part, f3.part])
